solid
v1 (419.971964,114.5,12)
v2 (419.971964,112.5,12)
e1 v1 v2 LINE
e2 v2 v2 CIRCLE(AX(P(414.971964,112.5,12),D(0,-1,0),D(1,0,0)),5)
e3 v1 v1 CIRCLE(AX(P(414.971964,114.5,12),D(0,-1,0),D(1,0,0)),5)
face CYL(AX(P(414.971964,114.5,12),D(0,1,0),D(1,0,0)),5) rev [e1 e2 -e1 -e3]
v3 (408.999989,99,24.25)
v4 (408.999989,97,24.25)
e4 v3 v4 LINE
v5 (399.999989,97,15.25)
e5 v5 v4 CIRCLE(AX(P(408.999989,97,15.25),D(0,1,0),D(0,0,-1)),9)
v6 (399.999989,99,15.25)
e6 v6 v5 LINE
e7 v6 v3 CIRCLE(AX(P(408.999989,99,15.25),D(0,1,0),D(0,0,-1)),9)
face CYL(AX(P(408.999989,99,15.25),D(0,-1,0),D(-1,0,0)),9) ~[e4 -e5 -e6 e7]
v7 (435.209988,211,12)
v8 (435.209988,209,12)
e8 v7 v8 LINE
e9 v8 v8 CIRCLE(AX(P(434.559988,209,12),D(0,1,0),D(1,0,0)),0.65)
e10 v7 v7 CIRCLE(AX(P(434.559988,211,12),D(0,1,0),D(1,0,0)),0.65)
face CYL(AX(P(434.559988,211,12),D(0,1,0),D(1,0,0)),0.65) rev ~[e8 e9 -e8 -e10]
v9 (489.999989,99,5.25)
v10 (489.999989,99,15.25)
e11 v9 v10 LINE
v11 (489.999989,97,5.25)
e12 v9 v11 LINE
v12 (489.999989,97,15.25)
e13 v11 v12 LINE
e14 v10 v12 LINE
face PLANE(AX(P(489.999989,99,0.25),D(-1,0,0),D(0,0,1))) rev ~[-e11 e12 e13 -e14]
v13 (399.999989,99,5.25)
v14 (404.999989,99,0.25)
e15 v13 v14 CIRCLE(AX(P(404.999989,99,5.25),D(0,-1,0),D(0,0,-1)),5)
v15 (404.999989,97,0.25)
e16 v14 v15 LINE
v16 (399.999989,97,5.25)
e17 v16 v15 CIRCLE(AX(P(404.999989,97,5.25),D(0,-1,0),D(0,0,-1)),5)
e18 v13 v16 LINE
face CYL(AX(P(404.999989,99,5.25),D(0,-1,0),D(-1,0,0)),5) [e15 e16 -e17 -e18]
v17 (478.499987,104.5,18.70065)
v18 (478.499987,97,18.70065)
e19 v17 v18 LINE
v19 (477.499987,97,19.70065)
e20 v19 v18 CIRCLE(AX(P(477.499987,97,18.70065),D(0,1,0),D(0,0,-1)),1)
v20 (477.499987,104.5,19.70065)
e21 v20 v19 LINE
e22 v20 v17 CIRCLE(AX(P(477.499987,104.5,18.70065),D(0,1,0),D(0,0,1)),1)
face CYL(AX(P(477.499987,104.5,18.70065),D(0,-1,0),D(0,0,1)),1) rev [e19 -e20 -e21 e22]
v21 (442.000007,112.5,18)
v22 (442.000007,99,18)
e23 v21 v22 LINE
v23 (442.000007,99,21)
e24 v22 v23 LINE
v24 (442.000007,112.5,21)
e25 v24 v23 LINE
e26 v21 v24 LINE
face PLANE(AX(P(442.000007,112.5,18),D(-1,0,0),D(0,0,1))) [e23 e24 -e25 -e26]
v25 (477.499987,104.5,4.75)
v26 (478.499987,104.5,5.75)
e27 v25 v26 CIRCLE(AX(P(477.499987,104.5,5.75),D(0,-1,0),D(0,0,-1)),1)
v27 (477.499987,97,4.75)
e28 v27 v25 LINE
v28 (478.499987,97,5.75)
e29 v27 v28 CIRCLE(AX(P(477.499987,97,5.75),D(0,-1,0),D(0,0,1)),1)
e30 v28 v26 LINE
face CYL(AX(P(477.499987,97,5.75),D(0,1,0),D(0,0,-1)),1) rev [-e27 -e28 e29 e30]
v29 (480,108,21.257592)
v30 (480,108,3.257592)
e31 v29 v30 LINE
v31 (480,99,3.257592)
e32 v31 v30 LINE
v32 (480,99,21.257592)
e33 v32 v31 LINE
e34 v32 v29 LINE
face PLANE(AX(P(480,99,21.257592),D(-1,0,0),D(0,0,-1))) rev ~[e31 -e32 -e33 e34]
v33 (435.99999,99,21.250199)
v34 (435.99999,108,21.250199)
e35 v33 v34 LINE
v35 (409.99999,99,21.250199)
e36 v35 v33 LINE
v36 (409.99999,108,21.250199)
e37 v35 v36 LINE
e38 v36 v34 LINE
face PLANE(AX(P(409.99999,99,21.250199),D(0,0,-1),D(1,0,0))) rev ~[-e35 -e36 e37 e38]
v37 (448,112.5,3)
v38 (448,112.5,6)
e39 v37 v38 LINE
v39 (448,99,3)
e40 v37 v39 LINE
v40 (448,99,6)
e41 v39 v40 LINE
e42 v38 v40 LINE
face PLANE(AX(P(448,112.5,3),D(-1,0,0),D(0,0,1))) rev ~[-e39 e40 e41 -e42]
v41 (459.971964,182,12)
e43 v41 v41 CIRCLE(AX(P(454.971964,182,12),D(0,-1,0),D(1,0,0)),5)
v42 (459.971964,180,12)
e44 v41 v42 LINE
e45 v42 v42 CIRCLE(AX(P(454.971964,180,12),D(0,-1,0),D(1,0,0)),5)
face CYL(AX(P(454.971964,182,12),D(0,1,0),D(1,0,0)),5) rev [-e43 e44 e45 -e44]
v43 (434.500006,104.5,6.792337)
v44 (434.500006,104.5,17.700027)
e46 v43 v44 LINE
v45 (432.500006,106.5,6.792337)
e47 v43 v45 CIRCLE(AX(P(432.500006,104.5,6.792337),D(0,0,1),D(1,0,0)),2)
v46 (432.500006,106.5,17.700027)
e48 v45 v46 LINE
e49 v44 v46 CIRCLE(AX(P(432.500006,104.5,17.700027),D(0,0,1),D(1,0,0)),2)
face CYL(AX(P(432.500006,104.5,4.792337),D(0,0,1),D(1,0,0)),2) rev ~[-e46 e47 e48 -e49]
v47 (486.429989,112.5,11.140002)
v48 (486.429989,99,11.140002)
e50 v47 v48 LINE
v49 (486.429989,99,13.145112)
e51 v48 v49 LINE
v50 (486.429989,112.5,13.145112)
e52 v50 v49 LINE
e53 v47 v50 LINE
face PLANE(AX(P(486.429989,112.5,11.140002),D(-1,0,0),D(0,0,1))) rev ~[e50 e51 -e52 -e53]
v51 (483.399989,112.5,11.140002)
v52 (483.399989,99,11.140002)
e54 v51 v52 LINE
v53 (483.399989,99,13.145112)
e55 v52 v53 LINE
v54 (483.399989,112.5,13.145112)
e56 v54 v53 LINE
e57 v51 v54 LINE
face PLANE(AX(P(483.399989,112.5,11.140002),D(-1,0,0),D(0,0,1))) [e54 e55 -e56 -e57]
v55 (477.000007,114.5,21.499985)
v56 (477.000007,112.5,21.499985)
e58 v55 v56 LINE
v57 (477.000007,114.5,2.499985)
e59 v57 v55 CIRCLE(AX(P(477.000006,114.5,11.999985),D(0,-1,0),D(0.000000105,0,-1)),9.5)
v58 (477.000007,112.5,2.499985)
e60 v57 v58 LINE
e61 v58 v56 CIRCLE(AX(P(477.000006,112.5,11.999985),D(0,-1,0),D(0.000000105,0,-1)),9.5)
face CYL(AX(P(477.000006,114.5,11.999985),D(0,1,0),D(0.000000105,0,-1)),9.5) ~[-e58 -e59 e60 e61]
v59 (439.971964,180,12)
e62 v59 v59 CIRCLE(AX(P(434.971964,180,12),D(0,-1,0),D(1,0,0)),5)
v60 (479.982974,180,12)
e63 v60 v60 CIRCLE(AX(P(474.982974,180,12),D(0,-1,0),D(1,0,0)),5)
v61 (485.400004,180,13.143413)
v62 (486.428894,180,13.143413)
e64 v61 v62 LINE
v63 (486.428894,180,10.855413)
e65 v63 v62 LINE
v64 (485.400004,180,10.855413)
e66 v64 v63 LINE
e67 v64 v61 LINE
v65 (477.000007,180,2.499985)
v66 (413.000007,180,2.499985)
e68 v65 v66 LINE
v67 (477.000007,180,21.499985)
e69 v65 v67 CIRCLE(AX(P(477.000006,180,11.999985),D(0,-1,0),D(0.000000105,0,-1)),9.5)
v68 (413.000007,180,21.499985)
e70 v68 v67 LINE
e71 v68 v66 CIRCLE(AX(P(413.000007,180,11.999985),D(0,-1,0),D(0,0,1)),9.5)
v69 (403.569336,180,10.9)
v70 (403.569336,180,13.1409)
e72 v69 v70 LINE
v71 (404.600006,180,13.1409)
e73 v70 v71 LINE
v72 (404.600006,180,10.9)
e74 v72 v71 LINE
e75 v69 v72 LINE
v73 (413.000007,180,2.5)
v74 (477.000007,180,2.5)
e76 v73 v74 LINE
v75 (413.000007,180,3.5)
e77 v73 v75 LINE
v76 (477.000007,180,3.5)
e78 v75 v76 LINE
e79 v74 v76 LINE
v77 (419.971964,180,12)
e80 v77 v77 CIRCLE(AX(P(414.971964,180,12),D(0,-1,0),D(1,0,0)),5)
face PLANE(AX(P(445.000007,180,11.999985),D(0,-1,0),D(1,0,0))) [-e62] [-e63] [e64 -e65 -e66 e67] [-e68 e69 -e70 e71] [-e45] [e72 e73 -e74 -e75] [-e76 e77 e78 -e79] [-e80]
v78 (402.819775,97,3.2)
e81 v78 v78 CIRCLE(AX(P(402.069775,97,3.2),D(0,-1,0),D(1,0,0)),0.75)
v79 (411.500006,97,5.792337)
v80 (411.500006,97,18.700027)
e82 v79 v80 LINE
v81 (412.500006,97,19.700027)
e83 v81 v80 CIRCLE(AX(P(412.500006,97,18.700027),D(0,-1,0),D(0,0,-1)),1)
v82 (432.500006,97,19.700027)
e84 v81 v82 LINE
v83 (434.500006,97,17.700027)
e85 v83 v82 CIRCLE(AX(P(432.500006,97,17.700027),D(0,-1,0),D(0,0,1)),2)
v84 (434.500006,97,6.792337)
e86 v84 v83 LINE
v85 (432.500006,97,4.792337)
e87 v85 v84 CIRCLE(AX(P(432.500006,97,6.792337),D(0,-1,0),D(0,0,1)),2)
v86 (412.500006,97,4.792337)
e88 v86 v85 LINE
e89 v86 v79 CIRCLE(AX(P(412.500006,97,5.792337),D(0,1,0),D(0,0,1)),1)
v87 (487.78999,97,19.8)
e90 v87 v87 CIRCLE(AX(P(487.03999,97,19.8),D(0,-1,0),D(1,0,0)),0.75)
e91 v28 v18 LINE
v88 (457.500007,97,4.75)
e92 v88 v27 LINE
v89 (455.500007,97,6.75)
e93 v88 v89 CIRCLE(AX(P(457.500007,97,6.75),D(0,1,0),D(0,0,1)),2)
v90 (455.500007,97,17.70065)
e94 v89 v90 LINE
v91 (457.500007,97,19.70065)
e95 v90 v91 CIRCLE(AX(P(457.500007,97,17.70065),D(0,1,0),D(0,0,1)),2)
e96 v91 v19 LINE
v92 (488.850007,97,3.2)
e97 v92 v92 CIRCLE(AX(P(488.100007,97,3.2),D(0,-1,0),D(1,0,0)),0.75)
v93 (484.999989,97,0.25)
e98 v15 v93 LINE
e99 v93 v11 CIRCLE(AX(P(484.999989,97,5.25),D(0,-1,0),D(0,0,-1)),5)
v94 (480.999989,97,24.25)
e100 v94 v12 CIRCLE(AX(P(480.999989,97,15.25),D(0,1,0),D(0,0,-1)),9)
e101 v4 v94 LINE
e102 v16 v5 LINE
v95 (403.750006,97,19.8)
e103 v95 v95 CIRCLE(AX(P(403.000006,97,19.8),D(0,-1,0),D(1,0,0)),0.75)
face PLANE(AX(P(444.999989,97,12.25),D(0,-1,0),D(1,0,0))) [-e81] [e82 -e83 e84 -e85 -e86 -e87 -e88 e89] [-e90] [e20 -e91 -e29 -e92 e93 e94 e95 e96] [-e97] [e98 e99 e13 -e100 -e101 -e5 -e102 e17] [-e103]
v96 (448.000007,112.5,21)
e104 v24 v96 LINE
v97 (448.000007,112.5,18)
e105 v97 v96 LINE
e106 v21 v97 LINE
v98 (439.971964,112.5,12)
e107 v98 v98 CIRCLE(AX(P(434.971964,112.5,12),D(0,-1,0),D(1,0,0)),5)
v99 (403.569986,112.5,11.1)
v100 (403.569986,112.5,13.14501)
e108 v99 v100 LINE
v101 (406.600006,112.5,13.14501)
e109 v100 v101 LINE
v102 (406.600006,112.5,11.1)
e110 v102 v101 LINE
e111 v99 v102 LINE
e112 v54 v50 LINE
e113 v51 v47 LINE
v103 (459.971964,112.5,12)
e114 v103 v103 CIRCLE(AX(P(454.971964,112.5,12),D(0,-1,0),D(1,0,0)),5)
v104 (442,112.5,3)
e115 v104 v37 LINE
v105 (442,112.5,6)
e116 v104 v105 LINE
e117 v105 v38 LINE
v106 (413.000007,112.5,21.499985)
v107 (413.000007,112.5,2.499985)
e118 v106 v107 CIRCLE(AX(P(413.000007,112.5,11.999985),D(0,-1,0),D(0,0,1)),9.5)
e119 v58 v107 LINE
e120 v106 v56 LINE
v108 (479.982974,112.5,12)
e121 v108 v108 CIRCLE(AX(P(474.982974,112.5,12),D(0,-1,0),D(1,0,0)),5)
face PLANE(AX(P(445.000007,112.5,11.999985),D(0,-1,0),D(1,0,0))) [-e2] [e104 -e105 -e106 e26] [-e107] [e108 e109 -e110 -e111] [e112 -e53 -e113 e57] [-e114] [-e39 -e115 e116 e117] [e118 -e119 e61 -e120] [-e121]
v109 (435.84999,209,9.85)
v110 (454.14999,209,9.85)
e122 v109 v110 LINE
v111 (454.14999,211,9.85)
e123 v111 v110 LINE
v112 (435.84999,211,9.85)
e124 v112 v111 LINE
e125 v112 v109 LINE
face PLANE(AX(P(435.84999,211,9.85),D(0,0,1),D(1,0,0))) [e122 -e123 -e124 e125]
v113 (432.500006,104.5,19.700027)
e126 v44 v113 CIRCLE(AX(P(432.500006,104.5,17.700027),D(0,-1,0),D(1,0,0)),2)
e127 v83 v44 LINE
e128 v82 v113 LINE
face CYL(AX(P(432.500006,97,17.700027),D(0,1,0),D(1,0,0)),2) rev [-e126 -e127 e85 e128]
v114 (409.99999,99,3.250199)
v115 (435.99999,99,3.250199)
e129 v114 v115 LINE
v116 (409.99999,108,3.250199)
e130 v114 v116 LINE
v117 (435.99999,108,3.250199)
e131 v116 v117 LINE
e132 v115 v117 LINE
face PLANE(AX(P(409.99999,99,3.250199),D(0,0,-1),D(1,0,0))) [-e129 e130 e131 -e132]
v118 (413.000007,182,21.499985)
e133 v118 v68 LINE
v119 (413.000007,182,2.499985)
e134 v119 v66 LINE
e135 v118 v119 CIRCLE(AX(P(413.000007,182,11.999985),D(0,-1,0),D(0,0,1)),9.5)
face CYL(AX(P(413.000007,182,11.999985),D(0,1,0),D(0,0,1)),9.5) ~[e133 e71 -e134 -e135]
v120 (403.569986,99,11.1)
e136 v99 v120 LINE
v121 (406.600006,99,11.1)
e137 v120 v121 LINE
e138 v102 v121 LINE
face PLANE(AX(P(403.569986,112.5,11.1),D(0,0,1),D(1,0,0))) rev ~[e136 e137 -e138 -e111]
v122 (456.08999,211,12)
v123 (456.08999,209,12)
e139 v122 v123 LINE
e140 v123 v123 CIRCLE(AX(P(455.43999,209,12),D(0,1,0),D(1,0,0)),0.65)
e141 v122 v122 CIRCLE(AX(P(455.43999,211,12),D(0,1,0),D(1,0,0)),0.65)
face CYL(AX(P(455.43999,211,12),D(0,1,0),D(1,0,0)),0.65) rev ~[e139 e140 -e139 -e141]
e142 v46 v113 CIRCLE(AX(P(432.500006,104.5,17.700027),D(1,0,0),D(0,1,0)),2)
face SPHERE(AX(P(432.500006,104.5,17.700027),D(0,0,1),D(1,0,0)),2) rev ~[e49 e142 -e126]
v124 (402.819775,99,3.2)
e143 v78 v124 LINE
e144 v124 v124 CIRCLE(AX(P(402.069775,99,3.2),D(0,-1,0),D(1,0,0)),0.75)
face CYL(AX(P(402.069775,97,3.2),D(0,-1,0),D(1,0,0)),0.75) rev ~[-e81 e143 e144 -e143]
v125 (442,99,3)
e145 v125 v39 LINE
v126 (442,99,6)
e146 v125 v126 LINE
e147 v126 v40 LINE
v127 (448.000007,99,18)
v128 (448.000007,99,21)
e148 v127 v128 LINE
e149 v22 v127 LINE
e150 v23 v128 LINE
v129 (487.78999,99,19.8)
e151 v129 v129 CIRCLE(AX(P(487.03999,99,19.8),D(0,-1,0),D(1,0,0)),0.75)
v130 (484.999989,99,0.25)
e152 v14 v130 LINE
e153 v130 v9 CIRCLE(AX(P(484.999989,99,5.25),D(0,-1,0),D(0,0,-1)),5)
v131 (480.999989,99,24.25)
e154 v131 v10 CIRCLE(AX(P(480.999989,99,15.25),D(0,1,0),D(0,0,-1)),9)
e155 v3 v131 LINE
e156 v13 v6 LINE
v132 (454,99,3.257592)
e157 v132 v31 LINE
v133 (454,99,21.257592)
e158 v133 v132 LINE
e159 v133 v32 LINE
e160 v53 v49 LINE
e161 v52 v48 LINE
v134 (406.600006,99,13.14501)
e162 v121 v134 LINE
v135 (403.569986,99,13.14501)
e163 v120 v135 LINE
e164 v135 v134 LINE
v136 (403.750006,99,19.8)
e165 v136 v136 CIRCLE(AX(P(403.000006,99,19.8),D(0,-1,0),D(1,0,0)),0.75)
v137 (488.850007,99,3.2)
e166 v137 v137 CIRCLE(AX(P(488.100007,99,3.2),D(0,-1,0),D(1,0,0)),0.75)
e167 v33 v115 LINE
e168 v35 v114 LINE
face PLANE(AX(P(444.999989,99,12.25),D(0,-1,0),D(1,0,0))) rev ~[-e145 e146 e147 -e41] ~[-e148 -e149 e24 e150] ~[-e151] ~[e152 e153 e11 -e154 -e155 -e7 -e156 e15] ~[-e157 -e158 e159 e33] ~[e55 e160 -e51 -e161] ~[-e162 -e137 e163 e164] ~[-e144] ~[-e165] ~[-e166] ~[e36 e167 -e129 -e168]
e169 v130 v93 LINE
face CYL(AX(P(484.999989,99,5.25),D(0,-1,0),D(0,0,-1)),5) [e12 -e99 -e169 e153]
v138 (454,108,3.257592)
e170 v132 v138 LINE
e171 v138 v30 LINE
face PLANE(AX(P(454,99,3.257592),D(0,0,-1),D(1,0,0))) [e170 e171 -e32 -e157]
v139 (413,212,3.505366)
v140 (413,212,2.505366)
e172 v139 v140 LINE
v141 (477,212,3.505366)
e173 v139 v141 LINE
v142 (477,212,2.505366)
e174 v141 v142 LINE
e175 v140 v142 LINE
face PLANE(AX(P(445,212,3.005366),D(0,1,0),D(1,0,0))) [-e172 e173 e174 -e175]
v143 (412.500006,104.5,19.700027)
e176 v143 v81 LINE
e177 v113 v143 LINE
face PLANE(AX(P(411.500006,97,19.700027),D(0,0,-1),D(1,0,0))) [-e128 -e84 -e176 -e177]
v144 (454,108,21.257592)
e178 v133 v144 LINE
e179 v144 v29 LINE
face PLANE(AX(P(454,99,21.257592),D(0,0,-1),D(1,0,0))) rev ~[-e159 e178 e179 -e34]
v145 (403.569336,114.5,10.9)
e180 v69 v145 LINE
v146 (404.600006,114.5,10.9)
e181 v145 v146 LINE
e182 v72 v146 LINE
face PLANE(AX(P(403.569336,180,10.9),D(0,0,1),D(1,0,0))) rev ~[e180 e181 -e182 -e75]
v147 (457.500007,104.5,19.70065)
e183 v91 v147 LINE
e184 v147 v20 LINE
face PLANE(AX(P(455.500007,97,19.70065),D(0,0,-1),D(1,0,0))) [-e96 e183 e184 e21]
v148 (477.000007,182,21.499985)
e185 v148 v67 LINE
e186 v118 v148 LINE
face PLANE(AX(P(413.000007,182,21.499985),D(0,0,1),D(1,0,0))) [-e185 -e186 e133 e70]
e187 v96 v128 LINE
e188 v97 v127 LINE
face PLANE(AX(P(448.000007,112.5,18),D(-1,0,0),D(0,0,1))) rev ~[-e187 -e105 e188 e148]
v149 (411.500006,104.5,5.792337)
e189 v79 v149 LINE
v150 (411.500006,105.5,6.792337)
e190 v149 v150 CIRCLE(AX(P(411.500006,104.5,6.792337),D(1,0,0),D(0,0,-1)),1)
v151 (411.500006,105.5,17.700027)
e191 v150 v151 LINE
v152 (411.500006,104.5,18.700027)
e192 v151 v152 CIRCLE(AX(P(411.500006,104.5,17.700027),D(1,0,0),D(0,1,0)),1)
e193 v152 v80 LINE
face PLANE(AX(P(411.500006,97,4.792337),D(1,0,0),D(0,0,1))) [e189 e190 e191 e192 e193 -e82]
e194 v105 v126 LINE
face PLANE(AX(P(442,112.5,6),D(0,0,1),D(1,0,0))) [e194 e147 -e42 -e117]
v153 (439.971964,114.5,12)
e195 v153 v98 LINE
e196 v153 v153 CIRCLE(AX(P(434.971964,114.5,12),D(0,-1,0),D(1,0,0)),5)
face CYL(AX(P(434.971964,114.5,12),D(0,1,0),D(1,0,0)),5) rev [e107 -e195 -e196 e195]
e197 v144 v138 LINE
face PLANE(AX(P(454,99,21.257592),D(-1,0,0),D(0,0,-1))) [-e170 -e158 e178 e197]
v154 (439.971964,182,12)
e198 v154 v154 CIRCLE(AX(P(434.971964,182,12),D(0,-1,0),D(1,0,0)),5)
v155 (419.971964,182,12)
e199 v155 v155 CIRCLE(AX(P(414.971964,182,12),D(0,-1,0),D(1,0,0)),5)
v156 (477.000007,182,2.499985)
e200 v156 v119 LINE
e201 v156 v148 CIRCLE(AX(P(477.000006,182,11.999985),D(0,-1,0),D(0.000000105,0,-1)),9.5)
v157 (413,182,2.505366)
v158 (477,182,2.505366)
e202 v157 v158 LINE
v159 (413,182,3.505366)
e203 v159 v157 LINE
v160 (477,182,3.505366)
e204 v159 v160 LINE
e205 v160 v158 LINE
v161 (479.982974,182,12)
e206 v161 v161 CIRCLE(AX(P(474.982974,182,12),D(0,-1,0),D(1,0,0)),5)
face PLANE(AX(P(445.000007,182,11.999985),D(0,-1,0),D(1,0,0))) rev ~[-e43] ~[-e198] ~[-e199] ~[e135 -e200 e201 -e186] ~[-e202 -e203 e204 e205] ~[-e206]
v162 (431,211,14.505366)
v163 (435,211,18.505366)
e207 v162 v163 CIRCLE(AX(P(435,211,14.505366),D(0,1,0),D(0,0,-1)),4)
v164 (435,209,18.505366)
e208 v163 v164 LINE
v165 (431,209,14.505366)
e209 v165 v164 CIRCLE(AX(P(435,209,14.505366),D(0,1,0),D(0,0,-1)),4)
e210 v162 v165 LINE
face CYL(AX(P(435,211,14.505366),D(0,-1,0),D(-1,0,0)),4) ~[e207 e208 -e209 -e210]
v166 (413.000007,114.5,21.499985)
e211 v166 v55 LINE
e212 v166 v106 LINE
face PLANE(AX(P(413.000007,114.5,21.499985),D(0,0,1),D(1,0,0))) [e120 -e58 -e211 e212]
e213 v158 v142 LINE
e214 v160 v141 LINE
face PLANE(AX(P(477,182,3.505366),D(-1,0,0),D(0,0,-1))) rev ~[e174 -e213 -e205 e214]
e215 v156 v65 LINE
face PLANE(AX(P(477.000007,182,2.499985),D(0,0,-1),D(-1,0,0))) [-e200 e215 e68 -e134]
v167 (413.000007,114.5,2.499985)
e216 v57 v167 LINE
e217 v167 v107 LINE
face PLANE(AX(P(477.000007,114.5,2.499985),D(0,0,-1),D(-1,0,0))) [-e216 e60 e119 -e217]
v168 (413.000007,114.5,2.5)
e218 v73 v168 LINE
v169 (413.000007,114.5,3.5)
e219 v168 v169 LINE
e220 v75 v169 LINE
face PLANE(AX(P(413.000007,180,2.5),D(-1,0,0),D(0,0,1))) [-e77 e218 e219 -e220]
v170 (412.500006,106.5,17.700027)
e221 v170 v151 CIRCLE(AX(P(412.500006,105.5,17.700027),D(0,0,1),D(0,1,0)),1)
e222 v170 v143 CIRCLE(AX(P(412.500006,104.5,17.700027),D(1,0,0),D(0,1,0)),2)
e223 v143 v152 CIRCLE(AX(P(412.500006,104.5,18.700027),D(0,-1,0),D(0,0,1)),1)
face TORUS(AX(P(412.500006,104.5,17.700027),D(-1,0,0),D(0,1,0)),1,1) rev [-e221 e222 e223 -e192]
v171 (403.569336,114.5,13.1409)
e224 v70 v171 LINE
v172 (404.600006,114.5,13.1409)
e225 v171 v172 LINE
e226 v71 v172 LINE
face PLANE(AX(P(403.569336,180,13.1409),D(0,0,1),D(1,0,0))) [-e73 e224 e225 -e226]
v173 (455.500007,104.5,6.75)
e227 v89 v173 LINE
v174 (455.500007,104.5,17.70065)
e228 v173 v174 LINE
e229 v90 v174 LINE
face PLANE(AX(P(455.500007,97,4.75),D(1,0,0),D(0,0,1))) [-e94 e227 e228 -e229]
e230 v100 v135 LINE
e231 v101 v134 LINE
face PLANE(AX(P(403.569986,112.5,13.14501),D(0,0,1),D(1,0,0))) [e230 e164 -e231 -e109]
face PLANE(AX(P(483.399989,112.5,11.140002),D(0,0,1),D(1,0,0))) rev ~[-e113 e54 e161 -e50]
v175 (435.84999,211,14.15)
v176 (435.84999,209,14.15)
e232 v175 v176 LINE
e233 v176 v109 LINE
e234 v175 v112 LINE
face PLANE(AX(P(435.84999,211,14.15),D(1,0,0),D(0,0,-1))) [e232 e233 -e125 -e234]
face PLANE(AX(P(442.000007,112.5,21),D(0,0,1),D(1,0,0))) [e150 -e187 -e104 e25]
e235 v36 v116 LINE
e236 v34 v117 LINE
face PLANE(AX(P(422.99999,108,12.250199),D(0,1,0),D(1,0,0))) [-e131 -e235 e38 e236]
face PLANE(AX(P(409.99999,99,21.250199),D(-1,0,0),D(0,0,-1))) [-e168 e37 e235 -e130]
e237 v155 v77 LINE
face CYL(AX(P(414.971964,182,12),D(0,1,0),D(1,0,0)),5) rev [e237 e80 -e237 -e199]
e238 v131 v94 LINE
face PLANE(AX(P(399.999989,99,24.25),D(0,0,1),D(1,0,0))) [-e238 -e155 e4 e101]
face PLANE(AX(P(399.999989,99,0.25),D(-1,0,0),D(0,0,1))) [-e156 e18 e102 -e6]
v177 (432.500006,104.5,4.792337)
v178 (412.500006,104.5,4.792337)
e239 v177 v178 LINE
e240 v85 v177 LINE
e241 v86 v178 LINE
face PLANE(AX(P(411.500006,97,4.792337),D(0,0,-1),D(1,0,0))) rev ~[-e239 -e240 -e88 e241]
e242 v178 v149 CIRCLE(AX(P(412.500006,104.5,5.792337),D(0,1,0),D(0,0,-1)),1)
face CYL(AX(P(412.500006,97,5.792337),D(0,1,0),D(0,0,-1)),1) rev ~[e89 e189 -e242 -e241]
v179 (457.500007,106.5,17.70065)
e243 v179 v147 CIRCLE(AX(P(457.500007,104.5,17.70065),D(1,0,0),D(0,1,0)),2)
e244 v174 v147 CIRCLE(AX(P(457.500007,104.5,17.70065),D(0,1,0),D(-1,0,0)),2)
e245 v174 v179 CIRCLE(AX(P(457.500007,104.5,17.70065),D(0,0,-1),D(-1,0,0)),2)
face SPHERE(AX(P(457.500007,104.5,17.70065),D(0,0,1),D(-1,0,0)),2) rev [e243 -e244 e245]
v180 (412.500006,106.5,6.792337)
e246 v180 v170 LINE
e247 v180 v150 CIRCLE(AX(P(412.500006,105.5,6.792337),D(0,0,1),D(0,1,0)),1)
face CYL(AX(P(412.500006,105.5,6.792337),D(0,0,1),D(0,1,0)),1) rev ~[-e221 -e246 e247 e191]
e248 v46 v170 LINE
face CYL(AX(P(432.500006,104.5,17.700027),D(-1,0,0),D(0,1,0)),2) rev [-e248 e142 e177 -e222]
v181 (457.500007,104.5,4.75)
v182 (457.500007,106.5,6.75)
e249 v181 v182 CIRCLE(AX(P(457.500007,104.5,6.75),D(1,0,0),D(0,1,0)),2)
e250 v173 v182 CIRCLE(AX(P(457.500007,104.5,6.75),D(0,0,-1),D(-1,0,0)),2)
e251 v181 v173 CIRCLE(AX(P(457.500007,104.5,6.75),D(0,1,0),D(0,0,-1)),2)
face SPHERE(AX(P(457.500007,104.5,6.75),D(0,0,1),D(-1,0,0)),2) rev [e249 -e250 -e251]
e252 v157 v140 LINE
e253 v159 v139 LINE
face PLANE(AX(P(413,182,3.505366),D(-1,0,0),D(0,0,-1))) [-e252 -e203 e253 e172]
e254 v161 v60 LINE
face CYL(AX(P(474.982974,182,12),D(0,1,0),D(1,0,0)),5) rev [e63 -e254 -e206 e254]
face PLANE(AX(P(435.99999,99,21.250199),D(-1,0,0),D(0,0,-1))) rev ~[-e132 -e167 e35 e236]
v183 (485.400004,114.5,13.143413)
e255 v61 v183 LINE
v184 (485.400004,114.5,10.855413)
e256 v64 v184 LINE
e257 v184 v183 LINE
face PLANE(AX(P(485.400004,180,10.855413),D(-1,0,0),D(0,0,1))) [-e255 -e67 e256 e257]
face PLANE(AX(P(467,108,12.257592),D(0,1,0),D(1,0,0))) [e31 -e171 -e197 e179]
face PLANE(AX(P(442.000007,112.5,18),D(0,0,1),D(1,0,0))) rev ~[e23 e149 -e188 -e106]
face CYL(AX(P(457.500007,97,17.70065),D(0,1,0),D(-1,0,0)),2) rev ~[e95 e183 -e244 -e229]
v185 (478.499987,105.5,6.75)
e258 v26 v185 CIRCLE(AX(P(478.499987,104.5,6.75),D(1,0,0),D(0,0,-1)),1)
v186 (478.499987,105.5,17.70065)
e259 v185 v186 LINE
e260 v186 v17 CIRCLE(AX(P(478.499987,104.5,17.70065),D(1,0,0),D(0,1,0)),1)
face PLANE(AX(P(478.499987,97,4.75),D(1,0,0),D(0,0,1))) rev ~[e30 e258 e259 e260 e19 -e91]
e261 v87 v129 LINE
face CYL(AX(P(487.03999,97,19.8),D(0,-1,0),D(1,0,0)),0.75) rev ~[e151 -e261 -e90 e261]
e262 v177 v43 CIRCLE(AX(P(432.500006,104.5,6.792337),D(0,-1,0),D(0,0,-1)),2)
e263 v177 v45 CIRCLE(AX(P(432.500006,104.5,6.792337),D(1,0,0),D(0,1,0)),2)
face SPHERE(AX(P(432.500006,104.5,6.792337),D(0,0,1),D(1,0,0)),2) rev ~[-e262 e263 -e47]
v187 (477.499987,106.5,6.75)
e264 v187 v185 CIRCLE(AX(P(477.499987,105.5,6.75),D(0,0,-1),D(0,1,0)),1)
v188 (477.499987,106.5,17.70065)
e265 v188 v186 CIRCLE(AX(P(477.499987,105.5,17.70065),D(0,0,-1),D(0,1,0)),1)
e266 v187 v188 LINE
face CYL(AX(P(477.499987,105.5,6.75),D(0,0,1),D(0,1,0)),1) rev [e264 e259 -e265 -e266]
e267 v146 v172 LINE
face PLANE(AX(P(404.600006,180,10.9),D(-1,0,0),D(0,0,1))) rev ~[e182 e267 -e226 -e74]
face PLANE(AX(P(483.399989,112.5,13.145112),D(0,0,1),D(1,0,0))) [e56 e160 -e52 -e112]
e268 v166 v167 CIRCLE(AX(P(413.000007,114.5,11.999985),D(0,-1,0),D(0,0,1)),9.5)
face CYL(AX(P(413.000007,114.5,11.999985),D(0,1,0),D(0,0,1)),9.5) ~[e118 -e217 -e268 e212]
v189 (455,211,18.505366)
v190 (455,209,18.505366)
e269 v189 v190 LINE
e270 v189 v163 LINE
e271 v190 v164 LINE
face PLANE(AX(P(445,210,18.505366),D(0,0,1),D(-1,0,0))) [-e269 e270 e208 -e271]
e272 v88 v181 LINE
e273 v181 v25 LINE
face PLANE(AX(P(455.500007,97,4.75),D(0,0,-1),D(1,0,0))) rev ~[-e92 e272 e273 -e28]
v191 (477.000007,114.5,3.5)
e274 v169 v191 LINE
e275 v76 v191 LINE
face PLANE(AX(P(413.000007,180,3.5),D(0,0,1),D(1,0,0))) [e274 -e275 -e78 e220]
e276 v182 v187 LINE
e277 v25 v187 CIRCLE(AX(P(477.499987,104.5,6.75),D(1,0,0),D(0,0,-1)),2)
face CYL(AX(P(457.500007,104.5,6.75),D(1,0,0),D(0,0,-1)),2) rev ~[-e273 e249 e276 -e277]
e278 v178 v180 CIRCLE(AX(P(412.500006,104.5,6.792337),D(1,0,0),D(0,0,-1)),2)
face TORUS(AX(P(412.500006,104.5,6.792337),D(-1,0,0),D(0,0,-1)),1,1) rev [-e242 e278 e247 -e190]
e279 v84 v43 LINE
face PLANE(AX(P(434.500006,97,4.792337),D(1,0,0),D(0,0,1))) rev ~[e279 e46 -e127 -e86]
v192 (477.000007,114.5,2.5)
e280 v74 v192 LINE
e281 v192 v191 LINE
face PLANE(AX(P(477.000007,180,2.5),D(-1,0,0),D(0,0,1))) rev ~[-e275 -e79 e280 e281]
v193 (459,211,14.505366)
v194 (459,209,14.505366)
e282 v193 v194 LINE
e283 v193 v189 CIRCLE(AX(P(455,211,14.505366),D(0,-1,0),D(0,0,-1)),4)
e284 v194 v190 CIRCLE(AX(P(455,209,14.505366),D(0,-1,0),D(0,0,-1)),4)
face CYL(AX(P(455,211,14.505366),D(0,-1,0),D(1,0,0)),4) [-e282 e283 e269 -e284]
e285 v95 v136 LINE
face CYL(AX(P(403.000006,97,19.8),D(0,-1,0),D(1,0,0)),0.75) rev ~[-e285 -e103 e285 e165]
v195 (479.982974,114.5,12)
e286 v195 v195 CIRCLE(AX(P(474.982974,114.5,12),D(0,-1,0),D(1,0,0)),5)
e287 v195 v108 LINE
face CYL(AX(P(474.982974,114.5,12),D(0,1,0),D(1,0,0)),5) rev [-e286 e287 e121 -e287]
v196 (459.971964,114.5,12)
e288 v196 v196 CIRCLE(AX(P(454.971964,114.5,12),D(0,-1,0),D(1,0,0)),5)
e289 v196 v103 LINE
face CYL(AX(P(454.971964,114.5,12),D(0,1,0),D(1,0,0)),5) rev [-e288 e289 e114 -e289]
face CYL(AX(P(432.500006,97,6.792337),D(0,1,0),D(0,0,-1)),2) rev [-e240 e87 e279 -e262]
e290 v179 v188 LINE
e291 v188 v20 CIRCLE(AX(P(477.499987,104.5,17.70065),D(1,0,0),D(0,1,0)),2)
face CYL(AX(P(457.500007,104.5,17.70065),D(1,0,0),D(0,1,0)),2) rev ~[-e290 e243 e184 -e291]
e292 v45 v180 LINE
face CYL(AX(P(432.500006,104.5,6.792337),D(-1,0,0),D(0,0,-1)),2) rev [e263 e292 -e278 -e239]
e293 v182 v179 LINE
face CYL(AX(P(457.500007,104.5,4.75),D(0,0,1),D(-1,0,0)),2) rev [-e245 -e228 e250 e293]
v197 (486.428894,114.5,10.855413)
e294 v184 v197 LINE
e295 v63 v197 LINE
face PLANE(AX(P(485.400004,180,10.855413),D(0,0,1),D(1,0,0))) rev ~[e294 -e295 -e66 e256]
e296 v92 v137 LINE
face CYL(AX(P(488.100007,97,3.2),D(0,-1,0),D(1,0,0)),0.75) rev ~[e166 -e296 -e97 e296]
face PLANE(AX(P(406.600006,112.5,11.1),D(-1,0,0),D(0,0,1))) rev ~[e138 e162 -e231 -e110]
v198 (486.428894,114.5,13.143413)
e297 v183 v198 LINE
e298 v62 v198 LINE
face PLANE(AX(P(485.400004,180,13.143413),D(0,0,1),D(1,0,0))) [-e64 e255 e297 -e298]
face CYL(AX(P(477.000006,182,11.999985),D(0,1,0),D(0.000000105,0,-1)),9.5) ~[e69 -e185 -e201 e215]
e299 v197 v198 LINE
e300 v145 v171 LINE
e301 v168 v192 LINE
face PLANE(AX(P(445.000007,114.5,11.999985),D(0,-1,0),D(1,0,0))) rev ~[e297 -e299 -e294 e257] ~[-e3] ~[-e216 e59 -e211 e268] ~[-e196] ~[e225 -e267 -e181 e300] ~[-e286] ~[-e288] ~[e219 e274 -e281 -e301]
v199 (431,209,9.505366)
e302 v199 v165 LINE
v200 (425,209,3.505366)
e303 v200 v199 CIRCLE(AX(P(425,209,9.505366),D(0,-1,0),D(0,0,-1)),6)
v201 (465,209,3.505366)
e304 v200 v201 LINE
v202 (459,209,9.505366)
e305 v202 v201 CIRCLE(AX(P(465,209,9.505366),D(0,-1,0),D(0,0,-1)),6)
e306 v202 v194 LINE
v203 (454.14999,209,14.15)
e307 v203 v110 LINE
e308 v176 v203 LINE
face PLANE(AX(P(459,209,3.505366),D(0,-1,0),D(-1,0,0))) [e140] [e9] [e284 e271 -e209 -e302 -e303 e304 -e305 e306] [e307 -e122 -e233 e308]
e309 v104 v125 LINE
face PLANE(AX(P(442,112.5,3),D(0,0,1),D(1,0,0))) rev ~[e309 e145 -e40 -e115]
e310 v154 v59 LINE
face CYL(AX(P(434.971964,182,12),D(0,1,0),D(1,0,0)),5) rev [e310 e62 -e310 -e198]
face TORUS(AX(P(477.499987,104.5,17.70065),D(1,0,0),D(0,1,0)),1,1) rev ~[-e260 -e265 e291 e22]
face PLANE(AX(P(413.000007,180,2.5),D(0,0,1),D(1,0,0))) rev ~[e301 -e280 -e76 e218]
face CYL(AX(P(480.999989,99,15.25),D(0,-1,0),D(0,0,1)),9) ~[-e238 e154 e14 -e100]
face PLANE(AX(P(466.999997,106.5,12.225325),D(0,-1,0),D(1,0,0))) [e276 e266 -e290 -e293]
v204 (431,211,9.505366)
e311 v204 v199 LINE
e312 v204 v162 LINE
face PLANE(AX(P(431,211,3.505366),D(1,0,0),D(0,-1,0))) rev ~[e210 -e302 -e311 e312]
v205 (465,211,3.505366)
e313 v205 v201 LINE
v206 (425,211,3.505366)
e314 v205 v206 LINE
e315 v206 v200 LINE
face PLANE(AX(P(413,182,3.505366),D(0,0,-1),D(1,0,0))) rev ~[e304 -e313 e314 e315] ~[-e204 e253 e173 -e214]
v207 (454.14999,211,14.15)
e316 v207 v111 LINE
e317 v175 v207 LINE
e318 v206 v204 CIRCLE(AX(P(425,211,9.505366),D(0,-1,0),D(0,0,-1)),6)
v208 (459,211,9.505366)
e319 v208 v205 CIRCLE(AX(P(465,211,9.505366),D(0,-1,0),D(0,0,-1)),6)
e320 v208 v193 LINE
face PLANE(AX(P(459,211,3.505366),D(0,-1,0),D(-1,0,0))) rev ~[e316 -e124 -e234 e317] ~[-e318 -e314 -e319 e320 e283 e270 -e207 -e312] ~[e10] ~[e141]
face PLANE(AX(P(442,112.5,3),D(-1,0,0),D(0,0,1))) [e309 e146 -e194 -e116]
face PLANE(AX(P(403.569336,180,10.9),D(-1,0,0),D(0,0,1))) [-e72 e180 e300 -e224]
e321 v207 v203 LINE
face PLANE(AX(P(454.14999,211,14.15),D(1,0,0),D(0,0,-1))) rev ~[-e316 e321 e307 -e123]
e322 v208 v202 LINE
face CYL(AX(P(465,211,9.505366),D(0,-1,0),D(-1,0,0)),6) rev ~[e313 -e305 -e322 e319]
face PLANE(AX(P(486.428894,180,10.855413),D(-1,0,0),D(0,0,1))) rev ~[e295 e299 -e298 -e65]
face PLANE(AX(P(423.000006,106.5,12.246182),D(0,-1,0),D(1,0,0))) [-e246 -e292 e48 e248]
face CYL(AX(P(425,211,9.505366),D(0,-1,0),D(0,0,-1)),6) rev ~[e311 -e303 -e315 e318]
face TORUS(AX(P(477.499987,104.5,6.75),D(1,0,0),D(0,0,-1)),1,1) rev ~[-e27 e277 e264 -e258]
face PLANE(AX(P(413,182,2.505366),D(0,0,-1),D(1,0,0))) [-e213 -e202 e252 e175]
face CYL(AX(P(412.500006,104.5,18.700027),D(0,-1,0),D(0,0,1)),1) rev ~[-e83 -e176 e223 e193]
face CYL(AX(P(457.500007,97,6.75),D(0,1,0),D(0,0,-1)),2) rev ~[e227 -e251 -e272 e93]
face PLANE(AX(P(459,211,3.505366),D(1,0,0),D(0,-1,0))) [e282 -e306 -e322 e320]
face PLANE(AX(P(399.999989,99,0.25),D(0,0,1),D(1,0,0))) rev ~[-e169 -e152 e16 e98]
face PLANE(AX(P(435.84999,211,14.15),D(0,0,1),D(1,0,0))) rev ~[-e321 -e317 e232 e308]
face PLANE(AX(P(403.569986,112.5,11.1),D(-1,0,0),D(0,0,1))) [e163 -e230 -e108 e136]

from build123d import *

# Parameters (mm, degrees)
SKETCH138_R     = 5
PAD002_DEPTH    = 2
SKETCH139_W     = 64
SKETCH139_H     = 1
SKETCH139_W_2   = 1.03067
SKETCH139_H_2   = 2.2409
SKETCH139_W_3   = 1.02889
SKETCH139_H_3   = 2.288
PAD003_DEPTH    = 65.5
SKETCH140_R     = 5
PAD004_DEPTH    = 2
SKETCH141_W     = 64
SKETCH141_H     = 1
PAD005_DEPTH    = 30
SKETCH144_W     = 28
SKETCH144_H     = 2
PAD007_DEPTH    = 15
SKETCH146_W     = 18.3
SKETCH146_H     = 4.3
POCKET028_DEPTH = 2
FILLET005_R     = 4
FILLET006_R     = 6
SKETCH147_R     = 0.65
POCKET029_DEPTH = 2
SKETCH149_W     = 3.03
SKETCH149_H     = 2.00511
SKETCH149_W_2   = 6
SKETCH149_H_2   = 3
SKETCH149_W_3   = 3.03002
SKETCH149_H_3   = 2.04501
PAD008_DEPTH    = 13.5
SKETCH150_W     = 90
SKETCH150_H     = 24
PAD009_DEPTH    = 2
FILLET007_R     = 9
FILLET008_R     = 5
SKETCH161_W     = 26
SKETCH161_H     = 18
PAD014_DEPTH    = 9
SKETCH162_W     = 23
SKETCH162_H     = 14.90769
SKETCH162_W_2   = 22.99998
SKETCH162_H_2   = 14.95065
POCKET035_DEPTH = 9.5
FILLET014_R     = 2
FILLET015_R     = 2
FILLET016_R     = 1
SKETCH163_R     = 0.75
POCKET036_DEPTH = 2


with BuildPart() as part:
    # Sketch138 → Pad002 (new body)
    with BuildSketch(Plane.XZ):
        with BuildLine():
            ThreePointArc((413.000007, 21.499985), (403.500007, 11.999985), (413.000007, 2.499985))
            Line((477.000007, 2.499985), (413.000007, 2.499985))
            ThreePointArc((477.000007, 2.499985), (486.500006, 11.999985), (477.000007, 21.499985))
            Line((413.000007, 21.499985), (477.000007, 21.499985))
        make_face()
        with Locations((414.971964, 12)):
            Circle(SKETCH138_R, mode=Mode.SUBTRACT)
        with Locations((434.971964, 12)):
            Circle(SKETCH138_R, mode=Mode.SUBTRACT)
        with Locations((454.971964, 12)):
            Circle(SKETCH138_R, mode=Mode.SUBTRACT)
        with Locations((474.982974, 12)):
            Circle(SKETCH138_R, mode=Mode.SUBTRACT)
    extrude(amount=PAD002_DEPTH)

    # Sketch139 (on Face10 of Pad002) → Pad003 (join)
    with BuildSketch(Plane.XZ.offset(2)):
        with Locations((445.000007, 3)):
            Rectangle(SKETCH139_W, SKETCH139_H)
        with Locations((404.084671, 12.02045)):
            Rectangle(SKETCH139_W_2, SKETCH139_H_2)
        with Locations((485.914449, 11.999413)):
            Rectangle(SKETCH139_W_3, SKETCH139_H_3)
    extrude(amount=PAD003_DEPTH)

    # Sketch140 (on Face24 of Pad003) → Pad004 (join)
    with BuildSketch(Plane.XZ.offset(67.5)):
        with BuildLine():
            ThreePointArc((413.000007, 21.499985), (403.500007, 11.999985), (413.000007, 2.499985))
            Line((477.000007, 2.499985), (413.000007, 2.499985))
            ThreePointArc((477.000007, 2.499985), (486.500006, 11.999985), (477.000007, 21.499985))
            Line((413.000007, 21.499985), (477.000007, 21.499985))
        make_face()
        with Locations((414.971964, 12)):
            Circle(SKETCH140_R, mode=Mode.SUBTRACT)
        with Locations((434.971964, 12)):
            Circle(SKETCH140_R, mode=Mode.SUBTRACT)
        with Locations((454.971964, 12)):
            Circle(SKETCH140_R, mode=Mode.SUBTRACT)
        with Locations((474.982974, 12)):
            Circle(SKETCH140_R, mode=Mode.SUBTRACT)
    extrude(amount=PAD004_DEPTH)

    # Sketch141 (on Face32 of Pad004) → Pad005 (join)
    with BuildSketch(Plane(origin=(0, 0, 0), x_dir=(1, 0, 0), z_dir=(0, 1, 0))):
        with Locations((445, -3.005366)):
            Rectangle(SKETCH141_W, SKETCH141_H)
    extrude(amount=PAD005_DEPTH)

    # Sketch144 (on Face35 of Pad005) → Pad007 (join)
    with BuildSketch(Plane(origin=(0, 0, 3.505366), x_dir=(-1, 0, 0), z_dir=(0, 0, 1))):
        with Locations((-445, -28)):
            Rectangle(SKETCH144_W, SKETCH144_H)
    extrude(amount=PAD007_DEPTH)

    # Sketch146 (on Face41 of Pad007) → Pocket028 (cut)
    with BuildSketch(Plane(origin=(0, 29, 0), x_dir=(1, 0, 0), z_dir=(0, 1, 0))):
        with Locations((444.99999, -12)):
            Rectangle(SKETCH146_W, SKETCH146_H)
    extrude(amount=-POCKET028_DEPTH, mode=Mode.SUBTRACT)

    # Fillet005
    fillet005_edges = [part.edges().sort_by_distance(p)[0] for p in [
        (431, 28, 18.505366),
        (459, 28, 18.505366),
    ]]
    fillet(fillet005_edges, radius=FILLET005_R)

    # Fillet006
    fillet006_edges = [part.edges().sort_by_distance(p)[0] for p in [
        (431, 28, 3.505366),
        (459, 28, 3.505366),
    ]]
    fillet(fillet006_edges, radius=FILLET006_R)

    # Sketch147 (on Face5 of Fillet006) → Pocket029 (cut)
    with BuildSketch(Plane(origin=(0, 29, 0), x_dir=(1, 0, 0), z_dir=(0, 1, 0))):
        with Locations((434.559988, -12)):
            Circle(SKETCH147_R)
        with Locations((455.43999, -12)):
            Circle(SKETCH147_R)
    extrude(amount=-POCKET029_DEPTH, mode=Mode.SUBTRACT)

    # Sketch149 (on Face52 of Pocket029) → Pad008 (join)
    with BuildSketch(Plane.XZ.offset(69.5)):
        with Locations((484.914989, 12.142557)):
            Rectangle(SKETCH149_W, SKETCH149_H)
        with Locations((445, 4.5)):
            Rectangle(SKETCH149_W_2, SKETCH149_H_2)
        with Locations((405.084996, 12.122505)):
            Rectangle(SKETCH149_W_3, SKETCH149_H_3)
        with Locations((445.000007, 19.5)):
            Rectangle(SKETCH149_W_2, SKETCH149_H_2)
    extrude(amount=PAD008_DEPTH)

    # Sketch150 (on Face70 of Pad008) → Pad009 (join)
    with BuildSketch(Plane.XZ.offset(83)):
        with Locations((444.999989, 12.25)):
            Rectangle(SKETCH150_W, SKETCH150_H)
    extrude(amount=PAD009_DEPTH)

    # Fillet007
    fillet007_edges = [part.edges().sort_by_distance(p)[0] for p in [
        (489.999989, -84, 24.25),
        (399.999989, -84, 24.25),
    ]]
    fillet(fillet007_edges, radius=FILLET007_R)

    # Fillet008
    fillet008_edges = [part.edges().sort_by_distance(p)[0] for p in [
        (489.999989, -84, 0.25),
        (399.999989, -84, 0.25),
    ]]
    fillet(fillet008_edges, radius=FILLET008_R)

    # Sketch161 (on Face1 of Fillet008) → Pad014 (join)
    with BuildSketch(Plane(origin=(0, -83, 0), x_dir=(1, 0, 0), z_dir=(0, 1, 0))):
        with Locations((467, -12.257592)):
            Rectangle(SKETCH161_W, SKETCH161_H)
        with Locations((422.99999, -12.250199)):
            Rectangle(SKETCH161_W, SKETCH161_H)
    extrude(amount=PAD014_DEPTH)

    # Sketch162 (on Face34 of Pad014) → Pocket035 (cut)
    with BuildSketch(Plane.XZ.offset(85)):
        with Locations((423.000006, 12.246182)):
            Rectangle(SKETCH162_W, SKETCH162_H)
        with Locations((466.999997, 12.225325)):
            Rectangle(SKETCH162_W_2, SKETCH162_H_2)
    extrude(amount=-POCKET035_DEPTH, mode=Mode.SUBTRACT)

    # Fillet014
    fillet014_edges = [part.edges().sort_by_distance(p)[0] for p in [
        (434.500006, -75.5, 12.246182),
        (455.500007, -75.5, 12.225325),
    ]]
    fillet(fillet014_edges, radius=FILLET014_R)

    # Fillet015
    fillet015_edges = [part.edges().sort_by_distance(p)[0] for p in [
        (455.500007, -81.25, 4.75),
        (434.500006, -81.25, 4.792337),
        (434.500006, -81.25, 19.700027),
        (455.500007, -81.25, 19.70065),
    ]]
    fillet(fillet015_edges, radius=FILLET015_R)

    # Fillet016
    fillet016_edges = [part.edges().sort_by_distance(p)[0] for p in [
        (411.500006, -81.25, 4.792337),
        (411.500006, -75.5, 12.246182),
        (411.500006, -81.25, 19.700027),
        (411.500006, -76.085786, 19.114241),
        (411.500006, -76.085786, 5.378123),
        (478.499987, -81.25, 4.75),
        (478.499987, -76.085786, 5.335786),
        (478.499987, -75.5, 12.225325),
        (478.499987, -76.085786, 19.114864),
        (478.499987, -81.25, 19.70065),
    ]]
    fillet(fillet016_edges, radius=FILLET016_R)

    # Sketch163 (on Face2 of Fillet016) → Pocket036 (cut)
    with BuildSketch(Plane.XZ.offset(85)):
        with Locations((403.000006, 19.8)):
            Circle(SKETCH163_R)
        with Locations((487.03999, 19.8)):
            Circle(SKETCH163_R)
        with Locations((402.069775, 3.2)):
            Circle(SKETCH163_R)
        with Locations((488.100007, 3.2)):
            Circle(SKETCH163_R)
    extrude(amount=-POCKET036_DEPTH, mode=Mode.SUBTRACT)


with BuildPart() as part_1:
    # Body015 placement: moved
    add(part.part.moved(Location((0, 182, 0))))


solid = part_1.part
